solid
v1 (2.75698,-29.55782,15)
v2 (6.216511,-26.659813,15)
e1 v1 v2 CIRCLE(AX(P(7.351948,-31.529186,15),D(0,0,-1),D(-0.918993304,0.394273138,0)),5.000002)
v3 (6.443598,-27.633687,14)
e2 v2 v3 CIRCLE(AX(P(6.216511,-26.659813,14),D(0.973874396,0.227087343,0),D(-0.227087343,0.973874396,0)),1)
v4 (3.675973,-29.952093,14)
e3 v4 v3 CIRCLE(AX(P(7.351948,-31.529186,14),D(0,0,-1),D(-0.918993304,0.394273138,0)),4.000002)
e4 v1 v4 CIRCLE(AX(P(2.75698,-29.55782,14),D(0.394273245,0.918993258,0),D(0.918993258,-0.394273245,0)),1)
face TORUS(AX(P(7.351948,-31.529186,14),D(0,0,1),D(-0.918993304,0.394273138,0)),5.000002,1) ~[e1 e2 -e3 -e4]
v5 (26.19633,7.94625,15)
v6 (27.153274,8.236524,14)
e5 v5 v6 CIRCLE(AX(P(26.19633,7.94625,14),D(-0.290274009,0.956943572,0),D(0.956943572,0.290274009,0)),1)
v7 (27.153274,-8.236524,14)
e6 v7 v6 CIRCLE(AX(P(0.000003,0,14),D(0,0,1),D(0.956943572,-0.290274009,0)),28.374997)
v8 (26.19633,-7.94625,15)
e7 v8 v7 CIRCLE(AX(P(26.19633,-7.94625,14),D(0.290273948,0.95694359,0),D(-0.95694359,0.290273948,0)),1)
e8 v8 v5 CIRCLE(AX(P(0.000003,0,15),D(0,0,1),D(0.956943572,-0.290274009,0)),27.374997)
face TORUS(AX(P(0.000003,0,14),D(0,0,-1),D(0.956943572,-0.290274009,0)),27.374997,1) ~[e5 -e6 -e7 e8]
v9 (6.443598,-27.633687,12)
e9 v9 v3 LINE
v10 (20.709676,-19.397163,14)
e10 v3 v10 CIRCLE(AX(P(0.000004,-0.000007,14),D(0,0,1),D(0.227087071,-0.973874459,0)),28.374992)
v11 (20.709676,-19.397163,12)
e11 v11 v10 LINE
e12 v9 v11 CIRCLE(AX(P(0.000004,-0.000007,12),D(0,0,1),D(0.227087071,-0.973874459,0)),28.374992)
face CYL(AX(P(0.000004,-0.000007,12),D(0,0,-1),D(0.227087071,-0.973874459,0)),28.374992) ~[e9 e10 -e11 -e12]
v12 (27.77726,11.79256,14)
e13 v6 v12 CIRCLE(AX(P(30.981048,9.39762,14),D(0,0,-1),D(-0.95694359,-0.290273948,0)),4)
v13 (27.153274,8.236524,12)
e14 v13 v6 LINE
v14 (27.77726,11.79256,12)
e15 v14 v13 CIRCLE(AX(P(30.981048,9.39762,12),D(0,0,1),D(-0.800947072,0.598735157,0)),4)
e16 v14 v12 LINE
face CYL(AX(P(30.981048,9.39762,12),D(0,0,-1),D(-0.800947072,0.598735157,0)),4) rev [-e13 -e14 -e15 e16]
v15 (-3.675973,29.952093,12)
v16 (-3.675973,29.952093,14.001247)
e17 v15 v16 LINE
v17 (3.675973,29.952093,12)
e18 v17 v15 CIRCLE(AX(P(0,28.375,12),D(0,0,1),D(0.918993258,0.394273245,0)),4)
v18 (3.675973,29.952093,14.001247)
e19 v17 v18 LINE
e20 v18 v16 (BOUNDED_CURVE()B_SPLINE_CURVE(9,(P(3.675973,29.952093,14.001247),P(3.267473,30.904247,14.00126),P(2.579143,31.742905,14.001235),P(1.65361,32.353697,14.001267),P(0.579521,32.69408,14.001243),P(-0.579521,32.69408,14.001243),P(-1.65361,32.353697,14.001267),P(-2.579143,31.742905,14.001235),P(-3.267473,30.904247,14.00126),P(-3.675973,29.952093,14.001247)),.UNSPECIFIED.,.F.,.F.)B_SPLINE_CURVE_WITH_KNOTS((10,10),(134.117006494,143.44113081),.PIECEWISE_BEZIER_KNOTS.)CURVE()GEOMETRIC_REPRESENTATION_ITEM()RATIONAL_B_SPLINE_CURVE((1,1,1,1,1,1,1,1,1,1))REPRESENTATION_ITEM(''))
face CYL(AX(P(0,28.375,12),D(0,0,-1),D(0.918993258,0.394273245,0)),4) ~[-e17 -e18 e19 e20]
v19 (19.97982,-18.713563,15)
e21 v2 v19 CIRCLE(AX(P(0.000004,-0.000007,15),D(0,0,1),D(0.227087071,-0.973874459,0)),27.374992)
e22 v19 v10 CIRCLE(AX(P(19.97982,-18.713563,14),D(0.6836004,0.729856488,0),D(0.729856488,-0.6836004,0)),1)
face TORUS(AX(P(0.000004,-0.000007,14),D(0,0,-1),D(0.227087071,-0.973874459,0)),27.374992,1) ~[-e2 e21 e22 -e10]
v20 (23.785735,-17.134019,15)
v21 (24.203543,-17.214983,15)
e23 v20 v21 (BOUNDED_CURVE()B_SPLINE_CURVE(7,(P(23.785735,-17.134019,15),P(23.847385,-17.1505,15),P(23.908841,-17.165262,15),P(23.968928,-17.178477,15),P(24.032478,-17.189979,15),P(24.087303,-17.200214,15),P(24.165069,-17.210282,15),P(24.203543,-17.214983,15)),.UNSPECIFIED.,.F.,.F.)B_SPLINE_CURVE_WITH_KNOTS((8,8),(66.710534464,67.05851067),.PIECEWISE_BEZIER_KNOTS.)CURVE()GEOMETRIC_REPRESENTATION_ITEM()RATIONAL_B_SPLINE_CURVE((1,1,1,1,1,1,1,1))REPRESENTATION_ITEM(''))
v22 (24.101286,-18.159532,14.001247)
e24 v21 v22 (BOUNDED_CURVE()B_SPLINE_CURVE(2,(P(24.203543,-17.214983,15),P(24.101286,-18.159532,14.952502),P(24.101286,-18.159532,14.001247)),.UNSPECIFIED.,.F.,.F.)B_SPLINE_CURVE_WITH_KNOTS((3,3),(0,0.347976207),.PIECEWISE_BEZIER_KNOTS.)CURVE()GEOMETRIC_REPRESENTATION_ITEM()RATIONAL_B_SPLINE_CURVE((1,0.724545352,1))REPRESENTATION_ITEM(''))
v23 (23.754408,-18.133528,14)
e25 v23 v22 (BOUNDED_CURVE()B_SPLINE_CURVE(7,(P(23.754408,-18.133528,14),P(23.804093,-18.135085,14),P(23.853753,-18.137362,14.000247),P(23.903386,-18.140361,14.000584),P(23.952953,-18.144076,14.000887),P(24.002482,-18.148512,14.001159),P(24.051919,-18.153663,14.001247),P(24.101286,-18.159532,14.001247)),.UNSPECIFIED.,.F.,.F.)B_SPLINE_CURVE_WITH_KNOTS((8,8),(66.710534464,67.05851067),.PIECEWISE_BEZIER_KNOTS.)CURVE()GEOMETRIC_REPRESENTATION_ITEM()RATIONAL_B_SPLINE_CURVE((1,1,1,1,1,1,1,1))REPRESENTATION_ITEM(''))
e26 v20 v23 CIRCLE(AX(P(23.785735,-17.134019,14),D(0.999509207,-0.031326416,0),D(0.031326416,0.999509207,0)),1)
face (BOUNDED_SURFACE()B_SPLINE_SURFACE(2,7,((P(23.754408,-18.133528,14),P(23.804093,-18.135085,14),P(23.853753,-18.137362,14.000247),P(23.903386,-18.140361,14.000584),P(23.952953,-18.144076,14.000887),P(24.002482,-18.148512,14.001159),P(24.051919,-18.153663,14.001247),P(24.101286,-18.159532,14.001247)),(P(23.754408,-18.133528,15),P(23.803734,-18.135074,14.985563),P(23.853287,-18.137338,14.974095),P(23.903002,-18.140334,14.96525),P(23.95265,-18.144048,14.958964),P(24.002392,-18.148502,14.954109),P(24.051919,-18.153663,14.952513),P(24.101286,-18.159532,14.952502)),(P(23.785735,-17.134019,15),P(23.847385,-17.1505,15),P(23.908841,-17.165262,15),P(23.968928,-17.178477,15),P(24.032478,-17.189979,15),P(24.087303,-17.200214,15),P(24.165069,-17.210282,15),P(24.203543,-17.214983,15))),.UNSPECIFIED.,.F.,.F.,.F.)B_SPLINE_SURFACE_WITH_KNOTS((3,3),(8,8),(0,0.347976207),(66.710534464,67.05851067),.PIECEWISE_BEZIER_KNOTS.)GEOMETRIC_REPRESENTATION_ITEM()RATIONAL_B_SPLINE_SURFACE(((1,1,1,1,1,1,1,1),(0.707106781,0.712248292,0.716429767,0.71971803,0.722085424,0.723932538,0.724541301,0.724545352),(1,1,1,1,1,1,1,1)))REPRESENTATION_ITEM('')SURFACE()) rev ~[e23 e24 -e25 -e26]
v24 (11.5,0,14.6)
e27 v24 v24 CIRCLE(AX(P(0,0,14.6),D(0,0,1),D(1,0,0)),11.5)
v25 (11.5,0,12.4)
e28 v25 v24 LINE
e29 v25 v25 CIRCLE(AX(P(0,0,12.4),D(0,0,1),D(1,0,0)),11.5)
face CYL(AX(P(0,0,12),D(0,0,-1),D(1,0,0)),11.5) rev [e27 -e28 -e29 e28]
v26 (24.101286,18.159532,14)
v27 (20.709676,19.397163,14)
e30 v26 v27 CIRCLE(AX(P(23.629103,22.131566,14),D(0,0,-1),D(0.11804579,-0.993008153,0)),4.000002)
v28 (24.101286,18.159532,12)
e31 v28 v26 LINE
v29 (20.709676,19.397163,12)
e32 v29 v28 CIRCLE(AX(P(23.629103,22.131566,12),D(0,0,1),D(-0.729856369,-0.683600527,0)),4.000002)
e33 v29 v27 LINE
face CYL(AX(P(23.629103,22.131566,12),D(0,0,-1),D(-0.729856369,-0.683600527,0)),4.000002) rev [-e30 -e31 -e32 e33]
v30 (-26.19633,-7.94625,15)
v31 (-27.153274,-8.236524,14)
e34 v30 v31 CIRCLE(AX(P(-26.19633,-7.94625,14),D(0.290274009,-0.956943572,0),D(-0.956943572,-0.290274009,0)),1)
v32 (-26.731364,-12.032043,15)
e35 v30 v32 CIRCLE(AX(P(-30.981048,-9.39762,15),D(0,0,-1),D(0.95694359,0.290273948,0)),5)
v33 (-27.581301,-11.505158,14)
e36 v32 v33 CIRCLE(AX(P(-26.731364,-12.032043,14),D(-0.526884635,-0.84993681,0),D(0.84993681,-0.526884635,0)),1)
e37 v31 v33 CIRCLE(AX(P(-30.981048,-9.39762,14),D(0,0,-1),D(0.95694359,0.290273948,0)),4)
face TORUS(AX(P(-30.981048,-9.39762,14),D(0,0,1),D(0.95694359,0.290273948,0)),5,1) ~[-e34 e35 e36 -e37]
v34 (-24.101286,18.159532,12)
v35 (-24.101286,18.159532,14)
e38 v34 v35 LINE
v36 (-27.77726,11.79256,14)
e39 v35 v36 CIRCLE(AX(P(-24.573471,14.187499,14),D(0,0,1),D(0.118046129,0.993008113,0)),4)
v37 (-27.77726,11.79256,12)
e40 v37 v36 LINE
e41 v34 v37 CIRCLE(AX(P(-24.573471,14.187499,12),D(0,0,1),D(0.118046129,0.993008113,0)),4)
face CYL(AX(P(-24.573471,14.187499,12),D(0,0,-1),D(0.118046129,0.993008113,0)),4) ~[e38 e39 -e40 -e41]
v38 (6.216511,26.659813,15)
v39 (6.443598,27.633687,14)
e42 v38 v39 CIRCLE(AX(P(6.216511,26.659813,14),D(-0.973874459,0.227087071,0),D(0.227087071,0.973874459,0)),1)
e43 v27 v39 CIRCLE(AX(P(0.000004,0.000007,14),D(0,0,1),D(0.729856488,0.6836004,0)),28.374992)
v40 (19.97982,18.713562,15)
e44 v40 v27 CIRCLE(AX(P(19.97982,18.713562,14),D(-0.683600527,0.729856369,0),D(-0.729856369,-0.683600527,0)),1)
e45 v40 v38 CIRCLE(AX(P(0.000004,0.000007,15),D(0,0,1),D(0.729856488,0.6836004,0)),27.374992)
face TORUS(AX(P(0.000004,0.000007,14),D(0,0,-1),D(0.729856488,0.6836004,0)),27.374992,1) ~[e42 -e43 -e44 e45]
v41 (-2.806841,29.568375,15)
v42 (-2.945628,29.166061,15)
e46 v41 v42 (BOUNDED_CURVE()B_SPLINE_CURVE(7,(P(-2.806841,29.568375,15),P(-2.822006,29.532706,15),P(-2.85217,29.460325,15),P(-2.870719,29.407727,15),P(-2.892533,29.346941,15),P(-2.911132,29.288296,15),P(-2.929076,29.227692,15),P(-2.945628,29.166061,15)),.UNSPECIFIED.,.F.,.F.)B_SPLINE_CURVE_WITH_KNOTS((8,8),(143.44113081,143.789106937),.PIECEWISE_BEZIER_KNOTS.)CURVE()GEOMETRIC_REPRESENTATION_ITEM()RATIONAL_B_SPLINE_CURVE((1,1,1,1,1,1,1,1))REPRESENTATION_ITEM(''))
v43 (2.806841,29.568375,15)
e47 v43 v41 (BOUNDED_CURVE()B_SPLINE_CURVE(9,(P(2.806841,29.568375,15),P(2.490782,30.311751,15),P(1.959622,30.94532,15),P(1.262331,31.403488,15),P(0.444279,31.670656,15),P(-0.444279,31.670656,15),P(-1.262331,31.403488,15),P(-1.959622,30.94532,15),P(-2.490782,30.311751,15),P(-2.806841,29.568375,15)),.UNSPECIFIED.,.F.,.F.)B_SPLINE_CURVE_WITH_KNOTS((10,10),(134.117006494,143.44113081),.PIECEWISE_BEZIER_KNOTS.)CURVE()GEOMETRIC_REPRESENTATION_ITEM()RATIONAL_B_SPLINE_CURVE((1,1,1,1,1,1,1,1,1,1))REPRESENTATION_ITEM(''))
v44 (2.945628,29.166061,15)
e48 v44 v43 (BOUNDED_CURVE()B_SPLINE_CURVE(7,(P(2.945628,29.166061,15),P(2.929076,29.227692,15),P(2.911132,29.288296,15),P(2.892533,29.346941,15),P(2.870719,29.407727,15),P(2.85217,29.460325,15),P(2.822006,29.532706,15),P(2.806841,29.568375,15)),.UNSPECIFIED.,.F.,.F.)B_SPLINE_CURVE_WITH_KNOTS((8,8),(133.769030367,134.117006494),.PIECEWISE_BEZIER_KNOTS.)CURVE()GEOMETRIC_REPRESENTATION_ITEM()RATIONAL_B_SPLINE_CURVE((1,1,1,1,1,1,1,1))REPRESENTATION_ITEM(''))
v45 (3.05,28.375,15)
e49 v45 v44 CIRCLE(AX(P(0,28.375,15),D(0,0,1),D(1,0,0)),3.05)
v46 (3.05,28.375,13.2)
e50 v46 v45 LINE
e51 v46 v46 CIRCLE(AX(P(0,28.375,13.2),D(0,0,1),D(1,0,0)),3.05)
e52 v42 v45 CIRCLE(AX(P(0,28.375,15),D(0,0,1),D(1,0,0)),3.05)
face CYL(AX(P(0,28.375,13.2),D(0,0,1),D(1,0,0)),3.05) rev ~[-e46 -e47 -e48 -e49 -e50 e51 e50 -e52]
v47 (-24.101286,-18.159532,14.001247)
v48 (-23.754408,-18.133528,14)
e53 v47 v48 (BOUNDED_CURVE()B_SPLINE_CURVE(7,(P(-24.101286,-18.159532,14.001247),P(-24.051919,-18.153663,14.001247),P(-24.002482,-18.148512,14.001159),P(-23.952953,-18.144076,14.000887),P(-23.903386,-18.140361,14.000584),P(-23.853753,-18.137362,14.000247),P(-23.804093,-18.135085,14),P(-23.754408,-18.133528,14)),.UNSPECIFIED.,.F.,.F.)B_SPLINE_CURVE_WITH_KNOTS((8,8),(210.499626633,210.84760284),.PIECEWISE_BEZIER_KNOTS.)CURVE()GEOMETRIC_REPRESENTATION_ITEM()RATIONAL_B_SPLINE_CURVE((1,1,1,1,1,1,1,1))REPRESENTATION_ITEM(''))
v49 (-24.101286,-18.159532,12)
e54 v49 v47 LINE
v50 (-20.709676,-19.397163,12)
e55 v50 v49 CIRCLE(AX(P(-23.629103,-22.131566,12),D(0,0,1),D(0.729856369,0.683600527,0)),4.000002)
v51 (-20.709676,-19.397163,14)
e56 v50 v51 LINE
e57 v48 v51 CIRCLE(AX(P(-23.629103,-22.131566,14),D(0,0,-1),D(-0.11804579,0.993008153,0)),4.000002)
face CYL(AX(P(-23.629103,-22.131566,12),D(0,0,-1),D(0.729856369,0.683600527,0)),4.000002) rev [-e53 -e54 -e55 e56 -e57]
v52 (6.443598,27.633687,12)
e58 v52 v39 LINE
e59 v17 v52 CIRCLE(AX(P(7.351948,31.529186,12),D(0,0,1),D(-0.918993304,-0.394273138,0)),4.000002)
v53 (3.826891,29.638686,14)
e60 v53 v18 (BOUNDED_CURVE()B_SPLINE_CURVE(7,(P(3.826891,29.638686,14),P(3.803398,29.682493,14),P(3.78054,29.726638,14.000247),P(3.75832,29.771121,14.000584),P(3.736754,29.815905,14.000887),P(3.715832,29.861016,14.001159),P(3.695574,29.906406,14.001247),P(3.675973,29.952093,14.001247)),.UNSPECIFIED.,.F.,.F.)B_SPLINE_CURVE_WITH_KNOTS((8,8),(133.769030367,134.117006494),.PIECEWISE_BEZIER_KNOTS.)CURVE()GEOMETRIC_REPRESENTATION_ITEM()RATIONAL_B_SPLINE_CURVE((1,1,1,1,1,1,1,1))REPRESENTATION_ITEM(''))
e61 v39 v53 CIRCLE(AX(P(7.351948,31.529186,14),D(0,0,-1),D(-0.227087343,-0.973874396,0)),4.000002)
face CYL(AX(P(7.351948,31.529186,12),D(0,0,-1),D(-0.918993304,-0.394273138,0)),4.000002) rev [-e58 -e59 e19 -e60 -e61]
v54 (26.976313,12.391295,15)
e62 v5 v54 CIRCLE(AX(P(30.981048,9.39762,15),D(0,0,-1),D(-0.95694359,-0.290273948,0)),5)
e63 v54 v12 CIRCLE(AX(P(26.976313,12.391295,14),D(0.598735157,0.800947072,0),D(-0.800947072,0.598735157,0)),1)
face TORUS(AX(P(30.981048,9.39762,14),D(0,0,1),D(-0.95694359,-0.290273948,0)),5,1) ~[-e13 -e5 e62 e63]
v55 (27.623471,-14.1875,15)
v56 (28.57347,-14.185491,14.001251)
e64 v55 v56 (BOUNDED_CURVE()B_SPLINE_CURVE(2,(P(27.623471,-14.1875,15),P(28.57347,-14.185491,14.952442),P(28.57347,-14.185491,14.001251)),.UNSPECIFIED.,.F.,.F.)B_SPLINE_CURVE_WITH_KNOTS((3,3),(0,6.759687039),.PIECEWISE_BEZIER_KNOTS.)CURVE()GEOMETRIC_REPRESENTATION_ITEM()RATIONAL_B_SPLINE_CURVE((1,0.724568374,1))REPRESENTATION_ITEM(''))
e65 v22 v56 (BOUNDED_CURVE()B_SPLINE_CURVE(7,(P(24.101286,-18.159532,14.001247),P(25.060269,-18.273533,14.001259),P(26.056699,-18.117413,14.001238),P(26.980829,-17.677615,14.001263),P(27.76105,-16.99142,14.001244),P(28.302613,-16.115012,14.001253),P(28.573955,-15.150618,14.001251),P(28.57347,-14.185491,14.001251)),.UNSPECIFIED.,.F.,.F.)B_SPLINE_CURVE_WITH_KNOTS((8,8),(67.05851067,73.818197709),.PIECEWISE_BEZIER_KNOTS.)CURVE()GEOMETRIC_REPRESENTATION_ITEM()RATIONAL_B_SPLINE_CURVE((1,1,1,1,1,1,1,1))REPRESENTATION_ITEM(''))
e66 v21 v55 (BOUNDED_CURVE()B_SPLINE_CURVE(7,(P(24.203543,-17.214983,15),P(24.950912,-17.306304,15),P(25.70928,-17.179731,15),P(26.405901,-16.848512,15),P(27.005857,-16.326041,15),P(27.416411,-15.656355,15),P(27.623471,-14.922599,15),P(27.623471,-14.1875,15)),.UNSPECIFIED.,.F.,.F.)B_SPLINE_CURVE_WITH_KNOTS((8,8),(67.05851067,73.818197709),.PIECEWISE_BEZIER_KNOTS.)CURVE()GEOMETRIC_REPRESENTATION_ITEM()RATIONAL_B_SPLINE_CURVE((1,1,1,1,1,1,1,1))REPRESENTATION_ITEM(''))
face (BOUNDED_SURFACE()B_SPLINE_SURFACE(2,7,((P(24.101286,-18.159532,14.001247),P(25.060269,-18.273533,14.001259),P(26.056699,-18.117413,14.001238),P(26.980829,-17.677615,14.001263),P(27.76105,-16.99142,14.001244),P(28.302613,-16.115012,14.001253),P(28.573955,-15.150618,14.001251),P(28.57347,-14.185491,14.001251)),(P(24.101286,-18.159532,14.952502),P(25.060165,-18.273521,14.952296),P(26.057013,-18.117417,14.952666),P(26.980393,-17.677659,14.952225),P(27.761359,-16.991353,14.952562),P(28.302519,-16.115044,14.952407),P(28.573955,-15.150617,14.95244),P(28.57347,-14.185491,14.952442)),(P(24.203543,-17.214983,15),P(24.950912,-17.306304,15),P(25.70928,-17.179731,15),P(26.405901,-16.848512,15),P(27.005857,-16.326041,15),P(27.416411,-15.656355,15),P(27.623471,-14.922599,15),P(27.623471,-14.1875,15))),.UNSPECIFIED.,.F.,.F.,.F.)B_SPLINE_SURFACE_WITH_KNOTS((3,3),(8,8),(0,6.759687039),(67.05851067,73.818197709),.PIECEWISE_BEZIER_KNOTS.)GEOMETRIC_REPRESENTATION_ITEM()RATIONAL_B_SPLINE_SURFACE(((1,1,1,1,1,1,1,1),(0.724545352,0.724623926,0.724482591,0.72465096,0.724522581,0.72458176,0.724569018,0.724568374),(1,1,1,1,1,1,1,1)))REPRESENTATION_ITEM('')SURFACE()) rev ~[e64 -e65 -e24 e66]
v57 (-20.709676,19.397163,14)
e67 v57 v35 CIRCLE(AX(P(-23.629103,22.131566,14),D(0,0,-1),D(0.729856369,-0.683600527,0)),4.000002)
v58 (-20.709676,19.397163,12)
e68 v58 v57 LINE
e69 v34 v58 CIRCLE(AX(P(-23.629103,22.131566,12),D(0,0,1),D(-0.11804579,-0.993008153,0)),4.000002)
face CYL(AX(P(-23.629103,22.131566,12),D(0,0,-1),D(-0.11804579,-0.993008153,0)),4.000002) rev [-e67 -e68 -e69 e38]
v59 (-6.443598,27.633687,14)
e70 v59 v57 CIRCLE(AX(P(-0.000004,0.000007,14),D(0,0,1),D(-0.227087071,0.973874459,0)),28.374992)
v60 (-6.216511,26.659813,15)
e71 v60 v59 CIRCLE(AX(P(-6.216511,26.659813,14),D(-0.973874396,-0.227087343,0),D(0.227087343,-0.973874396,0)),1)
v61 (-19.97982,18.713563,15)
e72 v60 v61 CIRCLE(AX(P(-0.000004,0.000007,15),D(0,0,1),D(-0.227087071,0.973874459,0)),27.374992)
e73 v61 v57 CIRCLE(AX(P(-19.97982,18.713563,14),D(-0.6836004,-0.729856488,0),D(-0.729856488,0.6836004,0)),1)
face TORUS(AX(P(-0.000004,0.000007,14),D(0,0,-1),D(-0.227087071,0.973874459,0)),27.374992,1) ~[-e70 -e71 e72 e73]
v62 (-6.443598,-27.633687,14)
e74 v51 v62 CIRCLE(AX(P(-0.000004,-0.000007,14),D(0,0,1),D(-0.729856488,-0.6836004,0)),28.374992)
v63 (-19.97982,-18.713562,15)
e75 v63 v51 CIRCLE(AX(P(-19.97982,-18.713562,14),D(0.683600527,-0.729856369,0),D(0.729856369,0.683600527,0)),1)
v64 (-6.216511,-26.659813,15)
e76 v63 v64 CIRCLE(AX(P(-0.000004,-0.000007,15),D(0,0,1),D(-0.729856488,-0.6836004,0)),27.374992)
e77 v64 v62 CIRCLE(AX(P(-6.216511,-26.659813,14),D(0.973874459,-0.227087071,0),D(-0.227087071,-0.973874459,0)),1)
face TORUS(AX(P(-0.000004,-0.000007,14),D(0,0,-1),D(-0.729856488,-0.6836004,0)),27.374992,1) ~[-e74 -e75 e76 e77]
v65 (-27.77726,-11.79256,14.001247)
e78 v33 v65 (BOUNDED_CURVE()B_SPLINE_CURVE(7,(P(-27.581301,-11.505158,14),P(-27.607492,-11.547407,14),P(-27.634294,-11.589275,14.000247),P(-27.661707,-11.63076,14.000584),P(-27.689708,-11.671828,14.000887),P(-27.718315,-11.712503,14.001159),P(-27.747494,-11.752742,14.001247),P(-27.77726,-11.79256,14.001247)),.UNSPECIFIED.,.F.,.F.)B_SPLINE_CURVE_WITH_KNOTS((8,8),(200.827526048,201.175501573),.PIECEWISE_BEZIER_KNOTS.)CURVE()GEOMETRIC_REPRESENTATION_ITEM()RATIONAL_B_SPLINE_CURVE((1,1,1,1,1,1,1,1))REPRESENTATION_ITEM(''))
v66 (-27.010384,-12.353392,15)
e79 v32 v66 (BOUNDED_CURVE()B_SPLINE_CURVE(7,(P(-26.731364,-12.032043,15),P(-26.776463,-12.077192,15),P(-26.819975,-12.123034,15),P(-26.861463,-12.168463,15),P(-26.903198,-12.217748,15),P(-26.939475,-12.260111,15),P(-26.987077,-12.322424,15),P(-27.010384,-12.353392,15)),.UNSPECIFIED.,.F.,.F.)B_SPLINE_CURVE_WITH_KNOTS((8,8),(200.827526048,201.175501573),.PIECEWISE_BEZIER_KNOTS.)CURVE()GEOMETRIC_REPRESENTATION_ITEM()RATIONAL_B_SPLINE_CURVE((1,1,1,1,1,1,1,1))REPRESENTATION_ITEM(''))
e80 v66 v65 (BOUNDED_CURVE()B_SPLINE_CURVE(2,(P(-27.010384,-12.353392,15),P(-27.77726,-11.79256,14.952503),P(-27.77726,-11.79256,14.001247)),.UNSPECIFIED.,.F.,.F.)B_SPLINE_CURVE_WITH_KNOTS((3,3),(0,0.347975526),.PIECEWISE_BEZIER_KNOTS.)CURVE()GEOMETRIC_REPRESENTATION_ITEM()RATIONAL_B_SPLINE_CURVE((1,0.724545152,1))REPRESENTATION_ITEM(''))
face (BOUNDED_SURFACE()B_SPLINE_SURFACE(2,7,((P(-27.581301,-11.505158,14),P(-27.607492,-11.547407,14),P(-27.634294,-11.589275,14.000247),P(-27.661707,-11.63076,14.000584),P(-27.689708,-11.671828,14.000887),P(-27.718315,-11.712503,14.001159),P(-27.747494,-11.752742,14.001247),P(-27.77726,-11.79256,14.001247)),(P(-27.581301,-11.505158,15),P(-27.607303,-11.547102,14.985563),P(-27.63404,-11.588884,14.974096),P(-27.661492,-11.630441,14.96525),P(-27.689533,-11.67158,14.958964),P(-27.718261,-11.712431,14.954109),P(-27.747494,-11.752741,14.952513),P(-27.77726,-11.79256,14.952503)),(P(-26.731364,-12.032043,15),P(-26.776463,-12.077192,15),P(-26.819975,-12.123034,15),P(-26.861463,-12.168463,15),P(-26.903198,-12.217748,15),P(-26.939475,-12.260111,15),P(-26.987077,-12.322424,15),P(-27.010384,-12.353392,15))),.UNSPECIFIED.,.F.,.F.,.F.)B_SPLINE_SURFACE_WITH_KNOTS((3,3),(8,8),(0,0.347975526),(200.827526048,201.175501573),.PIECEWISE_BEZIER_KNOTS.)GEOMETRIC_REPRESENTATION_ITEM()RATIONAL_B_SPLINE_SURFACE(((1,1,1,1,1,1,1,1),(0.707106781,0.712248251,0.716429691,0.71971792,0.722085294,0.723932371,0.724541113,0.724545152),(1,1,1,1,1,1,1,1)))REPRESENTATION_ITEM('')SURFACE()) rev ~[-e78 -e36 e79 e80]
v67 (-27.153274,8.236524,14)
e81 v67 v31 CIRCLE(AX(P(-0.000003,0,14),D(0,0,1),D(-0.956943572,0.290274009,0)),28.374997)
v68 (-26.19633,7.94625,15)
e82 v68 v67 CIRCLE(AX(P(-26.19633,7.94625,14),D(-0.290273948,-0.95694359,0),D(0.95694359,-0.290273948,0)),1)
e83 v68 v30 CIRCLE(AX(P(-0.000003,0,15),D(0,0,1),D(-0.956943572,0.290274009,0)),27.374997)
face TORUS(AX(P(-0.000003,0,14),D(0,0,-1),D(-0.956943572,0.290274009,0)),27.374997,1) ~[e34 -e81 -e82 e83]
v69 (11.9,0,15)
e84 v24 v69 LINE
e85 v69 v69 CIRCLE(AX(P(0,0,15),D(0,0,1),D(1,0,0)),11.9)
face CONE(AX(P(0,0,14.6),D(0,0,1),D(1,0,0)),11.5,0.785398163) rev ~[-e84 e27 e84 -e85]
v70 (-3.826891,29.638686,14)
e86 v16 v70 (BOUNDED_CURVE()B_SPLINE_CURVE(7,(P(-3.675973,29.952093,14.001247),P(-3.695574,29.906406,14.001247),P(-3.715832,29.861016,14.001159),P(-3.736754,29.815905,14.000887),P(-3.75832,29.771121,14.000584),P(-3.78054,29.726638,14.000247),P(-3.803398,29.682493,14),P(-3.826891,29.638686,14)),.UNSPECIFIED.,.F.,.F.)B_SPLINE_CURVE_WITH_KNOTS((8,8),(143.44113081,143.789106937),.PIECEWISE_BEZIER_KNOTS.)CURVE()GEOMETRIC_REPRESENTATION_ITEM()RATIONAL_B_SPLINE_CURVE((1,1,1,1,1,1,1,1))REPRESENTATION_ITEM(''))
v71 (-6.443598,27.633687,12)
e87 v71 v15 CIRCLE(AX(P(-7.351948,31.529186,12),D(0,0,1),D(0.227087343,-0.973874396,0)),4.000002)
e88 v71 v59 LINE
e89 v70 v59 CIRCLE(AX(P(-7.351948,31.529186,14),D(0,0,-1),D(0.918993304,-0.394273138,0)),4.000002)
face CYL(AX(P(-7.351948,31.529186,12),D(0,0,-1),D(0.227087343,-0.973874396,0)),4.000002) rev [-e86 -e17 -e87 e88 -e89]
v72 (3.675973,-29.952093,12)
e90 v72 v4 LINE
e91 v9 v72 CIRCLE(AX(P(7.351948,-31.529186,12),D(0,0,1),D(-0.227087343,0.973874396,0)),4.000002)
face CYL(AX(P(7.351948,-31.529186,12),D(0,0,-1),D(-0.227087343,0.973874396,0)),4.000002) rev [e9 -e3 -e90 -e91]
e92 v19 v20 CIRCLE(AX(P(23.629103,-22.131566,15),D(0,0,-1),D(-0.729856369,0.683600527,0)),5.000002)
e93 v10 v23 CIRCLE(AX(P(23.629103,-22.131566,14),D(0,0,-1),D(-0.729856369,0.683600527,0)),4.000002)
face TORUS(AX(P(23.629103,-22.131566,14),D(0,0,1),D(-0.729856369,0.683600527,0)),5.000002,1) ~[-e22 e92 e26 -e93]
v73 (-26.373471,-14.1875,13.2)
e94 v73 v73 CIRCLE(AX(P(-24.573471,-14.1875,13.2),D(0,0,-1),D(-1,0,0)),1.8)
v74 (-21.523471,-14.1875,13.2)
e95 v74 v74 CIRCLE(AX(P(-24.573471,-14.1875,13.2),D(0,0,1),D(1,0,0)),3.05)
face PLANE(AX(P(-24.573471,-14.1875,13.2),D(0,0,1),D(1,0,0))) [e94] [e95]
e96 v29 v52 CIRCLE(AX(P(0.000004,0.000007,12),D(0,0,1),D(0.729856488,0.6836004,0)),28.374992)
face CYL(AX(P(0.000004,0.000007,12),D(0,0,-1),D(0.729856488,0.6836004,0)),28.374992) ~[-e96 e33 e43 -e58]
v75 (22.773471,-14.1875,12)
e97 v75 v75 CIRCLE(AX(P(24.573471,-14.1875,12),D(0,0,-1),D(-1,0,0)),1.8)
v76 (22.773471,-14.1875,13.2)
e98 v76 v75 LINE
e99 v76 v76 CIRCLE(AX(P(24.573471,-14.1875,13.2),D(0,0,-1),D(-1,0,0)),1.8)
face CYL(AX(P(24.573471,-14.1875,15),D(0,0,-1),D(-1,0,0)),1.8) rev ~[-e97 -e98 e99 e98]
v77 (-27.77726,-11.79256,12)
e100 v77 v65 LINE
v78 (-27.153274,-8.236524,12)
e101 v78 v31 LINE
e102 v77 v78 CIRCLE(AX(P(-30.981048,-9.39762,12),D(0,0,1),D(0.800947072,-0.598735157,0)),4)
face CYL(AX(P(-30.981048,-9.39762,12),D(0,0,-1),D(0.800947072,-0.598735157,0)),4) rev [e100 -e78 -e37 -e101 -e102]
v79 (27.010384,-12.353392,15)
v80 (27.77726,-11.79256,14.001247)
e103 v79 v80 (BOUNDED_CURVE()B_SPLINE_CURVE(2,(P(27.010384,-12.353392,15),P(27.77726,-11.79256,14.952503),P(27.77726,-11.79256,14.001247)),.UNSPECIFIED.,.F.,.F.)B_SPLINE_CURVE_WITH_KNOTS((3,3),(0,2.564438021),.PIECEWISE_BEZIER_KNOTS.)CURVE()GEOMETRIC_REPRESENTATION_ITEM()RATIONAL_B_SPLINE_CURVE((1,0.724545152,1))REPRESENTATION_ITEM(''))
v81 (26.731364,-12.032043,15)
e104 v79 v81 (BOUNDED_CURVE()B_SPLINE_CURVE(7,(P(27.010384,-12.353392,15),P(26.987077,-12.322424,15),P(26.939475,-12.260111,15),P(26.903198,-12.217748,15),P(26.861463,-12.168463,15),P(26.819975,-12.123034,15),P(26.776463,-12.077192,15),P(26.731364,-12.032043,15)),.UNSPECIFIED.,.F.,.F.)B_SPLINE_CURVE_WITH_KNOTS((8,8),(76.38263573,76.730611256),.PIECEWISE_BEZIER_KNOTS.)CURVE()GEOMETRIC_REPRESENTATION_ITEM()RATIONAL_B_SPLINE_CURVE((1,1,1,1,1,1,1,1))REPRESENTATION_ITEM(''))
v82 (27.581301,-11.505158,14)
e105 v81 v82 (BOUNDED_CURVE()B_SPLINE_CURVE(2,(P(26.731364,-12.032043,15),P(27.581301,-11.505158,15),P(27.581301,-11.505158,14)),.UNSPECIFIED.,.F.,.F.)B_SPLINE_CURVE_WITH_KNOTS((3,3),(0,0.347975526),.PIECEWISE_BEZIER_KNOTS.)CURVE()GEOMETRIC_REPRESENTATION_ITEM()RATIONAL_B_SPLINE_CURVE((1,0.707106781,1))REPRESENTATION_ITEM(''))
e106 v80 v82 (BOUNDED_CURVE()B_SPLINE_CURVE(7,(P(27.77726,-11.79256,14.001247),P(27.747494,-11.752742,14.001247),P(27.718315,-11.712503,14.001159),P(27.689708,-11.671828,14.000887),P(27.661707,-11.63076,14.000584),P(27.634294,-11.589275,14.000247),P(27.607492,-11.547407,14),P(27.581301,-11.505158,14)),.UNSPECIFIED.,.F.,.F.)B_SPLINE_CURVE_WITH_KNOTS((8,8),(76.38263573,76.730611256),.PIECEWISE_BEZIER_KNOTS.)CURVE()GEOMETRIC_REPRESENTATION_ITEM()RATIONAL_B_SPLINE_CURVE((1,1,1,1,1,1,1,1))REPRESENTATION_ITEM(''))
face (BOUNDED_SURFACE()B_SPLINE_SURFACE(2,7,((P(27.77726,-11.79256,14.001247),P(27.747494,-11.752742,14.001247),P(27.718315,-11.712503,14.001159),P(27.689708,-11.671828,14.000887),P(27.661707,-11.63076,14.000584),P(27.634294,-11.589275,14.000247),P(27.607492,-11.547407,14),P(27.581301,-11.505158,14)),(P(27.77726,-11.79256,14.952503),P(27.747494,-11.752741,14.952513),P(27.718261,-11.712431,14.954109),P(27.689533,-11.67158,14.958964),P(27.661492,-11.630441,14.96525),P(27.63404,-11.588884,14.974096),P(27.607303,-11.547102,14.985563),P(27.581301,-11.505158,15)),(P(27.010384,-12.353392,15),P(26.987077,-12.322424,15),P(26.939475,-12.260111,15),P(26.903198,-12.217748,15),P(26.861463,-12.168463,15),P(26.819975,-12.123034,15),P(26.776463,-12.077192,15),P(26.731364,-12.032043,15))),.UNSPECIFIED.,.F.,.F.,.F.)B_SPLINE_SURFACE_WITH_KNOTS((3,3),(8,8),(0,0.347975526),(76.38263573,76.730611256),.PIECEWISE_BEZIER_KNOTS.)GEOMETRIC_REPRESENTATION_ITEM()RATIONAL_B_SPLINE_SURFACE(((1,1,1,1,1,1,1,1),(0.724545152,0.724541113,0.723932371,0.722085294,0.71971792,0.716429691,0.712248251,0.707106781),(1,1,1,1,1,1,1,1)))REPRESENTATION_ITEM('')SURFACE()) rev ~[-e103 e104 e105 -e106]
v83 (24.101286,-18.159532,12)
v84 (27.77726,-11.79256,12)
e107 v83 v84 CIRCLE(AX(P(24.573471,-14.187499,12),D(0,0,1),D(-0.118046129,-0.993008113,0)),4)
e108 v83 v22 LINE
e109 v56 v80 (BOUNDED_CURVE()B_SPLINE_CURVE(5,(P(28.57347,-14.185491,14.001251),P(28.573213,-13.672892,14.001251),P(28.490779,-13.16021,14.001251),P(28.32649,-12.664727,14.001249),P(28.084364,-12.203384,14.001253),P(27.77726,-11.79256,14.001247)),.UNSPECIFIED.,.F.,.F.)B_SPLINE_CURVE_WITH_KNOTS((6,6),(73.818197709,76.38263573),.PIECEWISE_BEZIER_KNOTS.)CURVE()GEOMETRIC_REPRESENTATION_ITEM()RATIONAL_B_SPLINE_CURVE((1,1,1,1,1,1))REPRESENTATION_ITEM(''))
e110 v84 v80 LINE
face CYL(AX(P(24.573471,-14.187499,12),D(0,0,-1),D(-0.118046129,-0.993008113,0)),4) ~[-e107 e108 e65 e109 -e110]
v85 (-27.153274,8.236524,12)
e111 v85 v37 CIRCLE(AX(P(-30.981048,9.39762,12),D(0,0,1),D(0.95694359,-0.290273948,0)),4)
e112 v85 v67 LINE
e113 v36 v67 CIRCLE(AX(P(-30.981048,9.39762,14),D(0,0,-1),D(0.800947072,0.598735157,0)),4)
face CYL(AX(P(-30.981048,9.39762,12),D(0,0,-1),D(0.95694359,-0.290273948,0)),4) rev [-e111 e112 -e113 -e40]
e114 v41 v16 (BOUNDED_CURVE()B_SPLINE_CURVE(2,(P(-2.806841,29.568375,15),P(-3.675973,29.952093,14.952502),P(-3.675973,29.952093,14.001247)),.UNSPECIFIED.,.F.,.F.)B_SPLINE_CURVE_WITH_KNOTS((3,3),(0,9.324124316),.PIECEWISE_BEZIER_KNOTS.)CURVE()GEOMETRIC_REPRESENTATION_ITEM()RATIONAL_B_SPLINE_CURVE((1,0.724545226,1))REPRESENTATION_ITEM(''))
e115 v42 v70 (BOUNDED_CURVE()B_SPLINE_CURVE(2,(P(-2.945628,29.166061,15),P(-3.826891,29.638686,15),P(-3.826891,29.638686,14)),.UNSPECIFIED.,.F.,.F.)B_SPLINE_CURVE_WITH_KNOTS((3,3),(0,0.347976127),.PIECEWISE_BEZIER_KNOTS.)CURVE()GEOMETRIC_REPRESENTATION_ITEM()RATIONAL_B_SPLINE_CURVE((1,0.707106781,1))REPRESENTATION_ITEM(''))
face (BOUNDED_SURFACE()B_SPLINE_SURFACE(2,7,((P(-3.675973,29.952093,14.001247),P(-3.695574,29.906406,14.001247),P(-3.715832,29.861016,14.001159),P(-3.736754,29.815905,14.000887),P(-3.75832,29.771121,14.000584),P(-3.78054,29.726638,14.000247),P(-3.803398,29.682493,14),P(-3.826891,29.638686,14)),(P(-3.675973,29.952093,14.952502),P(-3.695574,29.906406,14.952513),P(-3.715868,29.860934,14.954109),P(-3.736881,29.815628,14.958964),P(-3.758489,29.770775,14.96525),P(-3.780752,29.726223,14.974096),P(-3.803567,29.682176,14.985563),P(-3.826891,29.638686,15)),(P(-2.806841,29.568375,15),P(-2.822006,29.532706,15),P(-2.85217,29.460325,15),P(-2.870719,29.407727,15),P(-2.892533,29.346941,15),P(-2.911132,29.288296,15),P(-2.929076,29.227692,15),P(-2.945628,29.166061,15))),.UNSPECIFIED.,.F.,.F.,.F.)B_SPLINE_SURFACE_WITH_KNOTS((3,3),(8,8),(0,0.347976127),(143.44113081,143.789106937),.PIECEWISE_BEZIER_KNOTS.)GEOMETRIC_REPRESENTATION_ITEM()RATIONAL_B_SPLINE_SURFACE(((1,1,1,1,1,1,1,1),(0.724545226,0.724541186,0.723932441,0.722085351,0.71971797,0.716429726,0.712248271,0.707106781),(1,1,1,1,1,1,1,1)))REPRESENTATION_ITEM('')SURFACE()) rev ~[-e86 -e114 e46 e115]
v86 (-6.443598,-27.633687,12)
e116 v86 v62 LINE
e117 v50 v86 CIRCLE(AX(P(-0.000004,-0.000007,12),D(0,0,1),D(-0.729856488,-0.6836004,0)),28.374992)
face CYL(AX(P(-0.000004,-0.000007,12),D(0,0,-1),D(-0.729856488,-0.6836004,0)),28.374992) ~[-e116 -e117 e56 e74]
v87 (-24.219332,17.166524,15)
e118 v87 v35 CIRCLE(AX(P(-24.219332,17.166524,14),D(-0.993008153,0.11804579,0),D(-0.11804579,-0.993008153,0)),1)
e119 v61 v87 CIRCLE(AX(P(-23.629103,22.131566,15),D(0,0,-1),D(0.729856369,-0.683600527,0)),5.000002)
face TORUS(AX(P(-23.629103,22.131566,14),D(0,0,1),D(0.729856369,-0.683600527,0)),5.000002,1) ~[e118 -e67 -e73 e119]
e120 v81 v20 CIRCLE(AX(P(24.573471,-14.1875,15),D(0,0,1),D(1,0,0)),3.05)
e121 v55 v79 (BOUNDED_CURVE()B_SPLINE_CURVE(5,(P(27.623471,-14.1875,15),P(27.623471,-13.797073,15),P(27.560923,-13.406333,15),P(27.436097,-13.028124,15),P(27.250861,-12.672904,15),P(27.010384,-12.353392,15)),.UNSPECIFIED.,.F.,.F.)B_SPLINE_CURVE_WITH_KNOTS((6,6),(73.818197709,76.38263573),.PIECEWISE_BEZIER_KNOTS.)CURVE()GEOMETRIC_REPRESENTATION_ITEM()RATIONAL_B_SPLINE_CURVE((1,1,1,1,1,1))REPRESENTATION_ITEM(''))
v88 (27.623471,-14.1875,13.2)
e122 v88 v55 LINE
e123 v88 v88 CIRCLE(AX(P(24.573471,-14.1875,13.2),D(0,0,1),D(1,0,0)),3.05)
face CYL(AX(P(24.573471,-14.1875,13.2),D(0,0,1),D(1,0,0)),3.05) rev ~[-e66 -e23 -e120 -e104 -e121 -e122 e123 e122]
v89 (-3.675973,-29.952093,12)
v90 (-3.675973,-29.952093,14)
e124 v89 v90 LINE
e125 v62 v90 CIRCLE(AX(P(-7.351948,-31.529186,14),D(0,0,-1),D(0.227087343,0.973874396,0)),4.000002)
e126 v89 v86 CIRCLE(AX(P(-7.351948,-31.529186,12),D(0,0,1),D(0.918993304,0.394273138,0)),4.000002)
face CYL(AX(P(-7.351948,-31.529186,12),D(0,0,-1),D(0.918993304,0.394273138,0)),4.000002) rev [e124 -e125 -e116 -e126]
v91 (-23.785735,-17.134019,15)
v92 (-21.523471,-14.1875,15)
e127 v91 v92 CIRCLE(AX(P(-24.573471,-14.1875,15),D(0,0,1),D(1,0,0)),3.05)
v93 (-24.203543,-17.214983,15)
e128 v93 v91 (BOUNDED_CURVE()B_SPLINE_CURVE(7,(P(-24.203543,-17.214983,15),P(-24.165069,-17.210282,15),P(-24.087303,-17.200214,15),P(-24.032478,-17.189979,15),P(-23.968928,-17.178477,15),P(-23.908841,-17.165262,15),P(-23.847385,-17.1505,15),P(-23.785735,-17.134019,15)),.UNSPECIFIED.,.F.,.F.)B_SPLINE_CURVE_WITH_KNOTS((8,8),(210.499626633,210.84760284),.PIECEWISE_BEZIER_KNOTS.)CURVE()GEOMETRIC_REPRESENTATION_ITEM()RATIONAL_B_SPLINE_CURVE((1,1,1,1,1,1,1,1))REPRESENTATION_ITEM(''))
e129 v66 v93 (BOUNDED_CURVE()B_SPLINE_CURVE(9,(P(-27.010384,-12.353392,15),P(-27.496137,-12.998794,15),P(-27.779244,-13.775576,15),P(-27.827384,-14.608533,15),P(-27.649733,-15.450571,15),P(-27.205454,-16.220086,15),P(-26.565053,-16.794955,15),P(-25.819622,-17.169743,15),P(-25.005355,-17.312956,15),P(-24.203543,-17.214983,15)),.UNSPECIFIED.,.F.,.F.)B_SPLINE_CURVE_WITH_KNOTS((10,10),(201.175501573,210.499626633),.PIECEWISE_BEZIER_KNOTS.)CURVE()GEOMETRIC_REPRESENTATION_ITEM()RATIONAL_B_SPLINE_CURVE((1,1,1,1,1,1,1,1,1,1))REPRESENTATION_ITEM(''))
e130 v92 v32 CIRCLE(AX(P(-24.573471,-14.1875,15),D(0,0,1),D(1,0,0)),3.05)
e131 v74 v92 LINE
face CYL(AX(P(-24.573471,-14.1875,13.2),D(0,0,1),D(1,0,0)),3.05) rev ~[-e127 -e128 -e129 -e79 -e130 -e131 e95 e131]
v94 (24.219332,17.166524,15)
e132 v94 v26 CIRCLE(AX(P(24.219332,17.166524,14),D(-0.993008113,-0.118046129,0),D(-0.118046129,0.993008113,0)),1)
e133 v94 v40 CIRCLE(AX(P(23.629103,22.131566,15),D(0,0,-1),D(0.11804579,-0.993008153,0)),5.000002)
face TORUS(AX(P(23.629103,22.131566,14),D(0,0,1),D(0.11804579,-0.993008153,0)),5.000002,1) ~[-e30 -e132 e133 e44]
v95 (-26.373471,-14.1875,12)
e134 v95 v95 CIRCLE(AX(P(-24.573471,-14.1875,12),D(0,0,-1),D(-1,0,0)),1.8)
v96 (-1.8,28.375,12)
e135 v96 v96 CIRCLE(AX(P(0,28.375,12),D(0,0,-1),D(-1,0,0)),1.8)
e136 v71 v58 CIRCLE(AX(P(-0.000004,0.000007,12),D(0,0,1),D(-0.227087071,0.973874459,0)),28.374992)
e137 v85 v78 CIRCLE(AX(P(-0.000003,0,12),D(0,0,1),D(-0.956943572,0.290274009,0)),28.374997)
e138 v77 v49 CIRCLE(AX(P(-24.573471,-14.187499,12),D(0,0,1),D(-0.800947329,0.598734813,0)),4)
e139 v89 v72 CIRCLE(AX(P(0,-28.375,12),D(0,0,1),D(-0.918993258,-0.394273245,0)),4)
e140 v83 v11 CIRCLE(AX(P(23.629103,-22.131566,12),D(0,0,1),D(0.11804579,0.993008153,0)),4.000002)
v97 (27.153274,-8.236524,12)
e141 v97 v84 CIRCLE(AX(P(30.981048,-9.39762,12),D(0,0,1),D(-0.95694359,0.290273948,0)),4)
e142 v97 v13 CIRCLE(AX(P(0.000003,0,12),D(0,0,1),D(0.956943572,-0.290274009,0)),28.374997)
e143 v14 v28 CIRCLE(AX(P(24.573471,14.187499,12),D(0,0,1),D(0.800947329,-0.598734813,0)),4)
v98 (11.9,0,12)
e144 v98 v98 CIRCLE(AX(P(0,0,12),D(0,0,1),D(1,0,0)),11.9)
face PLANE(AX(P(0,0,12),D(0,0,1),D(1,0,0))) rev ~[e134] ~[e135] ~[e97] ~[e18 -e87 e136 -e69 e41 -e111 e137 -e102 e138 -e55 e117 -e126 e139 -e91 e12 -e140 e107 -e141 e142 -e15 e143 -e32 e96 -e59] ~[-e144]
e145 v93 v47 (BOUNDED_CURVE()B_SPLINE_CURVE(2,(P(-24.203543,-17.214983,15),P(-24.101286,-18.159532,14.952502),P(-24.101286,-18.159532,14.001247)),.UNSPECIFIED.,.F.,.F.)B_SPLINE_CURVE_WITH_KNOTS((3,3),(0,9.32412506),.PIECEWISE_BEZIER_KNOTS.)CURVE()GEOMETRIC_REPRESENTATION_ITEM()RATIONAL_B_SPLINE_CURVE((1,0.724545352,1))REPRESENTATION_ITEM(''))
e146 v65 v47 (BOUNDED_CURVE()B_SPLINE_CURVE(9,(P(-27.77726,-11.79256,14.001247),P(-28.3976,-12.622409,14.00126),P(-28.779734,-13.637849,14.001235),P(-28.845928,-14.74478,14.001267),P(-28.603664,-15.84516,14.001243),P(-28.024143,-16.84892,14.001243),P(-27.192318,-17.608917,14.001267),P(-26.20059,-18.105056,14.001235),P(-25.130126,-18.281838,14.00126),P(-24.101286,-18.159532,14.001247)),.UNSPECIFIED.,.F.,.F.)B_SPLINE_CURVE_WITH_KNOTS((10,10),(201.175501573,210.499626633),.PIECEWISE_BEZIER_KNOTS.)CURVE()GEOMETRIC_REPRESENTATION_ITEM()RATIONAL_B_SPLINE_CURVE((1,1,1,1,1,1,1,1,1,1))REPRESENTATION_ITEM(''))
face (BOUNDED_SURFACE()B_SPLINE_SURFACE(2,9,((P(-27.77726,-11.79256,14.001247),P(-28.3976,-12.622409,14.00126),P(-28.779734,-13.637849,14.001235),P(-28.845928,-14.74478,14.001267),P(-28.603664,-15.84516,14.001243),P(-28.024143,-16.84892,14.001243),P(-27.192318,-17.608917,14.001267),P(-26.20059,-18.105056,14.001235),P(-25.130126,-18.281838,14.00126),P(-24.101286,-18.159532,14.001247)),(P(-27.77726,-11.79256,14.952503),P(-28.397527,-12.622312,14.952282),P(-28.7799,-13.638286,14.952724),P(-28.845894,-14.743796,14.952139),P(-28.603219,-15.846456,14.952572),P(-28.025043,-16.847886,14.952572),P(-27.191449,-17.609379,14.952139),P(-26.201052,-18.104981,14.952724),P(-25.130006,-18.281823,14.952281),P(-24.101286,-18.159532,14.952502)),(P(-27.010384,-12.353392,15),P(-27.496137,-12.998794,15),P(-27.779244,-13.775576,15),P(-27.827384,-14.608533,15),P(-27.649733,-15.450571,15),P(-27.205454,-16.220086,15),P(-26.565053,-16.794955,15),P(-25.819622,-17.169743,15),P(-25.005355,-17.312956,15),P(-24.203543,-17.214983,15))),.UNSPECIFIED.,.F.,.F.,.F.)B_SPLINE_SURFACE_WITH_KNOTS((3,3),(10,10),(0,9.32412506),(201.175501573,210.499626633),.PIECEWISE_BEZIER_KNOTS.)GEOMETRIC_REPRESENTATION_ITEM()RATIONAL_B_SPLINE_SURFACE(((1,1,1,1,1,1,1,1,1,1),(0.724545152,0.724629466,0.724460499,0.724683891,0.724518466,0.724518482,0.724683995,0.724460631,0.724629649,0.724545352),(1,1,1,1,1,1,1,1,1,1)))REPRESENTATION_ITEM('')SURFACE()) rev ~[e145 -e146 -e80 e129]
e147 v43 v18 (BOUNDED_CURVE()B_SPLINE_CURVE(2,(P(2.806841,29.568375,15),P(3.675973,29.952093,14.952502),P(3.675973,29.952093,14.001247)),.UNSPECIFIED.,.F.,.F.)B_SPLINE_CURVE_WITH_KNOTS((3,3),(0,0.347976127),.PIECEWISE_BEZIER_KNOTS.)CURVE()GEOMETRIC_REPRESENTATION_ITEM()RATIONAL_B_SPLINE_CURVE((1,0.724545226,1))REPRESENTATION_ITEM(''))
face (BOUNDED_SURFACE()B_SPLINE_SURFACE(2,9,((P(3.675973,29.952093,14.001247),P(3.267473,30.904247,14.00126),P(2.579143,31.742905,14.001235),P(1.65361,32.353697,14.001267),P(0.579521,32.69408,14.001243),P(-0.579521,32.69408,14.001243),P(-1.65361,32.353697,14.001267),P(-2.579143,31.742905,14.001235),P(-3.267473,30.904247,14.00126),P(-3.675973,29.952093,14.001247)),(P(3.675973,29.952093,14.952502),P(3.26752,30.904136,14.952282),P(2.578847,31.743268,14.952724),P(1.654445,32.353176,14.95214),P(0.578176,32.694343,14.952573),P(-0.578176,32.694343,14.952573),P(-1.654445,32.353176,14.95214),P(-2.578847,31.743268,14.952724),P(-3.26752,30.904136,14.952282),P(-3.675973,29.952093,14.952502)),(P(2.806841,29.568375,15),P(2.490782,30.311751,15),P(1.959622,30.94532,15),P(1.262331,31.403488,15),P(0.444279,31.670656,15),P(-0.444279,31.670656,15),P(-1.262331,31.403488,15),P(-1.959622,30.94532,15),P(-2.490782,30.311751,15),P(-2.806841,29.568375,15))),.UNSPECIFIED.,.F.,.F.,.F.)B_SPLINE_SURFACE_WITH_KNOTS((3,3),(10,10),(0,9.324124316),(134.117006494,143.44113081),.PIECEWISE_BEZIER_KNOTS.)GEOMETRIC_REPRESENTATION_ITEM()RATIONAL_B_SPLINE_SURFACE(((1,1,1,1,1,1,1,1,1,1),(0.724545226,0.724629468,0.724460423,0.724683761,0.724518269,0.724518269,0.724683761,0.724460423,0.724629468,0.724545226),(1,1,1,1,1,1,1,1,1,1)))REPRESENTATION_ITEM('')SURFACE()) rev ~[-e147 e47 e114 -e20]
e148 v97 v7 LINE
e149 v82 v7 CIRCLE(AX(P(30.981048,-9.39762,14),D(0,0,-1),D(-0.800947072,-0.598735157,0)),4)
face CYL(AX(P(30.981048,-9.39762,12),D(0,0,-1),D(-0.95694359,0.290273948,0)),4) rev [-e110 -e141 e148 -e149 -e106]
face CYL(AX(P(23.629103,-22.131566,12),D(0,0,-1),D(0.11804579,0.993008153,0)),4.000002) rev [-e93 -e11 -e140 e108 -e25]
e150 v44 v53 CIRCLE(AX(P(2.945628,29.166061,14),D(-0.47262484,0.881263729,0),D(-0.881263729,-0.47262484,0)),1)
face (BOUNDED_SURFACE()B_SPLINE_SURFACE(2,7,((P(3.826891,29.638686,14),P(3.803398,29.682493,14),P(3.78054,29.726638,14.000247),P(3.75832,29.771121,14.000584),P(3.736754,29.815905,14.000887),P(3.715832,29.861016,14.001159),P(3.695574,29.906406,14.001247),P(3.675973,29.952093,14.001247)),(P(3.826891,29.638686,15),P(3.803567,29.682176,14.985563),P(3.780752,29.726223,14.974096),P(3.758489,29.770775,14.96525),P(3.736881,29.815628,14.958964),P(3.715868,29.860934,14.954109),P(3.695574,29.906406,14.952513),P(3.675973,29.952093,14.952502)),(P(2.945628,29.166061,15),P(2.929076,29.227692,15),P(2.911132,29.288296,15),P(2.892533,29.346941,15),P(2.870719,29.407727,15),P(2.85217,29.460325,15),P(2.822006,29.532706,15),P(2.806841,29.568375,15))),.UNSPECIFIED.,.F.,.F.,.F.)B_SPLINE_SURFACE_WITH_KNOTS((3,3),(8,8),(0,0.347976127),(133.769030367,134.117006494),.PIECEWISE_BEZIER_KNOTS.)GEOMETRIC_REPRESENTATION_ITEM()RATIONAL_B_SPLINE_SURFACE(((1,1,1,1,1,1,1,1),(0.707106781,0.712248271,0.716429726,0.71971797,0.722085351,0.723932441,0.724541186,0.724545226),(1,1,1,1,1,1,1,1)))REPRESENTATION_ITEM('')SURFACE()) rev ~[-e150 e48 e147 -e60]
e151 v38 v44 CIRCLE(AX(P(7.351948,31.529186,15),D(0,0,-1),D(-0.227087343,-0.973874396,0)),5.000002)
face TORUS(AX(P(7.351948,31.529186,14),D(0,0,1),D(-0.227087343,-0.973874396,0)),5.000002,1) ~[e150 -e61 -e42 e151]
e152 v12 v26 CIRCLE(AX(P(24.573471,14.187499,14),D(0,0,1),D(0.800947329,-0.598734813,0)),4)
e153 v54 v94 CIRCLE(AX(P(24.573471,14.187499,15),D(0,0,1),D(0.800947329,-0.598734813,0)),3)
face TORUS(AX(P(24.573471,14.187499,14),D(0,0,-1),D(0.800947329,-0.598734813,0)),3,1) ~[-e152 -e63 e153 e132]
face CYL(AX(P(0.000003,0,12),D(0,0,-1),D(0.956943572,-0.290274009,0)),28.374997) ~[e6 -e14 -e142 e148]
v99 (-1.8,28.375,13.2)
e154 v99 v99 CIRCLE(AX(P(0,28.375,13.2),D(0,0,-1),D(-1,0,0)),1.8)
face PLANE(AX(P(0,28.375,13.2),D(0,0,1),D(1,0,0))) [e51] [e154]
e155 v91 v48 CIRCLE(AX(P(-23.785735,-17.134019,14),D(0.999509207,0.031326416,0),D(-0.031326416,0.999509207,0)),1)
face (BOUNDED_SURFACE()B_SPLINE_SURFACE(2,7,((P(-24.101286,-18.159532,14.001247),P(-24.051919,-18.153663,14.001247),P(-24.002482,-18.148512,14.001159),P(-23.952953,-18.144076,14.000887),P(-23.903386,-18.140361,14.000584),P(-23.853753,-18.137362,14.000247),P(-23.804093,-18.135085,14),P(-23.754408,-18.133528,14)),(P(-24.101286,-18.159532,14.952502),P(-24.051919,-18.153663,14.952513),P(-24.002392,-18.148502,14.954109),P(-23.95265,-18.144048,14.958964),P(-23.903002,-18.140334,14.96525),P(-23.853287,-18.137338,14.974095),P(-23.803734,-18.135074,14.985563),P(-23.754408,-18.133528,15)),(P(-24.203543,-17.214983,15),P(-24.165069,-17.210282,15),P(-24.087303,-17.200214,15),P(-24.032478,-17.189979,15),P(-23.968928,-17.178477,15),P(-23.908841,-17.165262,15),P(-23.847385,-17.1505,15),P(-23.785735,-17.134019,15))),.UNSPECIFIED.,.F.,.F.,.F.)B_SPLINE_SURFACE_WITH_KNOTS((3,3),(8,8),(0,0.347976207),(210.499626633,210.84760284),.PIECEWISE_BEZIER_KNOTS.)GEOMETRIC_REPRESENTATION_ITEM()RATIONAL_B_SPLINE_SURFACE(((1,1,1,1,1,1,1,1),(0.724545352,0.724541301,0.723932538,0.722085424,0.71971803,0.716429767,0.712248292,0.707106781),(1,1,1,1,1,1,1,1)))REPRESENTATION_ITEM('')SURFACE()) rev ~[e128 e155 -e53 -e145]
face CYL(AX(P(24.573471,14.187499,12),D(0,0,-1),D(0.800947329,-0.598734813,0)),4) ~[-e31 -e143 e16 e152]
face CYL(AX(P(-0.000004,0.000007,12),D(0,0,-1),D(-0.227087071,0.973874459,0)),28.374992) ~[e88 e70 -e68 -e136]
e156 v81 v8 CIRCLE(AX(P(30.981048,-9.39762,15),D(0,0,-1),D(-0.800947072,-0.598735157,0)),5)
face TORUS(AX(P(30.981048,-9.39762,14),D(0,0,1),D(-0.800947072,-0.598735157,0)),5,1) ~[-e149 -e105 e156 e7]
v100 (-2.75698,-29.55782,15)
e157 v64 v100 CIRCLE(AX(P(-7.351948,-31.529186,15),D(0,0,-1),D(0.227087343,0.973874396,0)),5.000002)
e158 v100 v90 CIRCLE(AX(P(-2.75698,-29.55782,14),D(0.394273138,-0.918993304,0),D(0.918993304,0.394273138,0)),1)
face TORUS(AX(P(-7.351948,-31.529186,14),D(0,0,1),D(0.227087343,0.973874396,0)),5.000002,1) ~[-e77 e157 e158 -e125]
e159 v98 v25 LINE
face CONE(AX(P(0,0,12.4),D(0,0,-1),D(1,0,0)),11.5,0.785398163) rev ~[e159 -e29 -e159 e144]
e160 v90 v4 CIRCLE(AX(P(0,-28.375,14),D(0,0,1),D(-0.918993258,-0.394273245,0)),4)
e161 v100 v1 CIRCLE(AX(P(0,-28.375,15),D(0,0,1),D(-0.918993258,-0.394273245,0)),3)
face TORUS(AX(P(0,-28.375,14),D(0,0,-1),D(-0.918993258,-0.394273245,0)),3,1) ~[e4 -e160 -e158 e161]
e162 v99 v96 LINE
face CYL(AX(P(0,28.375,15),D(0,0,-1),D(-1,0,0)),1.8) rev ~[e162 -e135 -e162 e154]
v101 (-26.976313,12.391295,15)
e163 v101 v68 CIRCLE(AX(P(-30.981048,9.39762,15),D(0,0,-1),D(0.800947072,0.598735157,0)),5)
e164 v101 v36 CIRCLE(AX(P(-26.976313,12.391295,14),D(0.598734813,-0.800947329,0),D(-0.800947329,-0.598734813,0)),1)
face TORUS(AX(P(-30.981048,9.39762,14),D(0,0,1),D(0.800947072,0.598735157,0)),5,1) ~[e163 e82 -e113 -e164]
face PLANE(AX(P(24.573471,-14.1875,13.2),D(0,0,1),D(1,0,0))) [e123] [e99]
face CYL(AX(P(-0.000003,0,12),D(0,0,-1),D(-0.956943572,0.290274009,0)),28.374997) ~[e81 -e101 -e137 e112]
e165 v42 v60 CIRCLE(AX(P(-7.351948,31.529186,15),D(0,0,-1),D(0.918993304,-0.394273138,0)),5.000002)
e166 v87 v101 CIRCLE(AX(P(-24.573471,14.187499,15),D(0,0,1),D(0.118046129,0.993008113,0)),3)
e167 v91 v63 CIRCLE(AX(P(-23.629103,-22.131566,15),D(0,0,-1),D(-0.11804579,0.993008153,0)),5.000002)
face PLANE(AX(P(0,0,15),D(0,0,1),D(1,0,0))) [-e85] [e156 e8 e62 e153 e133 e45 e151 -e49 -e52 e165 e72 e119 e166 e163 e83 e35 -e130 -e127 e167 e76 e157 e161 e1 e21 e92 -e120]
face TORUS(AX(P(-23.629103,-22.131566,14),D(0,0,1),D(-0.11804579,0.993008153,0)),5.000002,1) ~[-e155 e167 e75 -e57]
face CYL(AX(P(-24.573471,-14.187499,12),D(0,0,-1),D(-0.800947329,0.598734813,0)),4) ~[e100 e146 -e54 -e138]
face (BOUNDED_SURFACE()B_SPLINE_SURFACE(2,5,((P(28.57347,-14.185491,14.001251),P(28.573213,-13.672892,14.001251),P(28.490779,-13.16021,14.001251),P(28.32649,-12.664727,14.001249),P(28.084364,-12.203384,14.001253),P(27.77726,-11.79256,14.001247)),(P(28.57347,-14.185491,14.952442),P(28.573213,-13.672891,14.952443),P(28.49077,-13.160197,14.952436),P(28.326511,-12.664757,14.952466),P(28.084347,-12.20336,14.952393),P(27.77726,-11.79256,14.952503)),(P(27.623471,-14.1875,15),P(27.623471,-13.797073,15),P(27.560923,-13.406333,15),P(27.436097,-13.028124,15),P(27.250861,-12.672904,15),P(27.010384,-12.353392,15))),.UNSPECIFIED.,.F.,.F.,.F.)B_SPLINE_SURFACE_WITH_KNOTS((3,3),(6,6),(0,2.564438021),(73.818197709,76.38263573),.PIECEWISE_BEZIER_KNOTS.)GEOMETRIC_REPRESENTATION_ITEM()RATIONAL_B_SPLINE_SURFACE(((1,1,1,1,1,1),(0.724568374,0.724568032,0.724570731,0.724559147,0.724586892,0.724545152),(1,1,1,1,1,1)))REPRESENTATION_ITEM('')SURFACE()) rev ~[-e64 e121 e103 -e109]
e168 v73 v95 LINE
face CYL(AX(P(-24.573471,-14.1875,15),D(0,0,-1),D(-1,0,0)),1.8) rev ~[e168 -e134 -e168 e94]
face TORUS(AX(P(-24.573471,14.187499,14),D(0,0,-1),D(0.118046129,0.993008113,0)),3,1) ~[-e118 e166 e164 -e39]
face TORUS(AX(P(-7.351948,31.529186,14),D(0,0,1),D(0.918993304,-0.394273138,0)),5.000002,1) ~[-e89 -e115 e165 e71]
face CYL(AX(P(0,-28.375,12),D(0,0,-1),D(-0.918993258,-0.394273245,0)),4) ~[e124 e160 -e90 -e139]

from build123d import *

# Parameters (mm, degrees)
SKETCH020_R         = 11.5
PAD005_DEPTH        = 3
HOLE004_D           = 3.6
HOLE004_CBORE_D     = 6.1
HOLE004_CBORE_DEPTH = 1.8
FILLET001_R         = 1
CHAMFER008_SIZE     = 0.4


with BuildPart() as part:
    # Sketch020 → Pad005 (new body)
    with BuildSketch(Plane.XY):
        with BuildLine():
            ThreePointArc((3.675973, 29.952093), (0, 32.375), (-3.675973, 29.952093))
            ThreePointArc((-6.443598, 27.633687), (-4.783337, 28.462877), (-3.675973, 29.952093))
            ThreePointArc((-6.443598, 27.633687), (-14.1875, 24.573471), (-20.709676, 19.397163))
            ThreePointArc((-24.101286, 18.159532), (-22.257905, 18.37393), (-20.709676, 19.397163))
            ThreePointArc((-24.101286, 18.159532), (-28.037572, 16.1875), (-27.77726, 11.79256))
            ThreePointArc((-27.153274, 8.236524), (-27.041243, 10.088947), (-27.77726, 11.79256))
            ThreePointArc((-27.153274, 8.236524), (-28.375, 0), (-27.153274, -8.236524))
            ThreePointArc((-27.77726, -11.79256), (-27.041243, -10.088947), (-27.153274, -8.236524))
            ThreePointArc((-27.77726, -11.79256), (-28.037572, -16.1875), (-24.101286, -18.159532))
            ThreePointArc((-20.709676, -19.397163), (-22.257905, -18.37393), (-24.101286, -18.159532))
            ThreePointArc((-20.709676, -19.397163), (-14.1875, -24.573471), (-6.443598, -27.633687))
            ThreePointArc((-3.675973, -29.952093), (-4.783337, -28.462877), (-6.443598, -27.633687))
            ThreePointArc((-3.675973, -29.952093), (0, -32.375), (3.675973, -29.952093))
            ThreePointArc((6.443598, -27.633687), (4.783337, -28.462877), (3.675973, -29.952093))
            ThreePointArc((6.443598, -27.633687), (14.1875, -24.573471), (20.709676, -19.397163))
            ThreePointArc((24.101286, -18.159532), (22.257905, -18.37393), (20.709676, -19.397163))
            ThreePointArc((24.101286, -18.159532), (28.037572, -16.1875), (27.77726, -11.79256))
            ThreePointArc((27.153274, -8.236524), (27.041243, -10.088947), (27.77726, -11.79256))
            ThreePointArc((27.153274, -8.236524), (28.375, 0), (27.153274, 8.236524))
            ThreePointArc((27.77726, 11.79256), (27.041243, 10.088947), (27.153274, 8.236524))
            ThreePointArc((27.77726, 11.79256), (28.037572, 16.1875), (24.101286, 18.159532))
            ThreePointArc((20.709676, 19.397163), (22.257905, 18.37393), (24.101286, 18.159532))
            ThreePointArc((20.709676, 19.397163), (14.1875, 24.573471), (6.443598, 27.633687))
            ThreePointArc((3.675973, 29.952093), (4.783337, 28.462877), (6.443598, 27.633687))
        make_face()
        Circle(SKETCH020_R, mode=Mode.SUBTRACT)
    extrude(amount=PAD005_DEPTH)

    # Hole004 (through all)
    with Locations(Plane.XY.offset(3)):
        with Locations((0, 28.375), (24.573471, -14.1875), (-24.573471, -14.1875)):
            CounterBoreHole(HOLE004_D / 2, HOLE004_CBORE_D / 2, HOLE004_CBORE_DEPTH)

    # Fillet001
    fillet001_edges = [part.edges().sort_by_distance(p)[0] for p in [
        (-28.037572, -16.1875, 3),
    ]]
    fillet(fillet001_edges, radius=FILLET001_R)

    # Chamfer008
    chamfer008_edges = [part.edges().sort_by_distance(p)[0] for p in [
        (-11.5, 0, 3),
        (-11.5, 0, 0),
    ]]
    chamfer(chamfer008_edges, length=CHAMFER008_SIZE)


with BuildPart() as part_1:
    # Body007 placement: moved
    add(part.part.moved(Location((0, 0, 12))))


solid = part_1.part
